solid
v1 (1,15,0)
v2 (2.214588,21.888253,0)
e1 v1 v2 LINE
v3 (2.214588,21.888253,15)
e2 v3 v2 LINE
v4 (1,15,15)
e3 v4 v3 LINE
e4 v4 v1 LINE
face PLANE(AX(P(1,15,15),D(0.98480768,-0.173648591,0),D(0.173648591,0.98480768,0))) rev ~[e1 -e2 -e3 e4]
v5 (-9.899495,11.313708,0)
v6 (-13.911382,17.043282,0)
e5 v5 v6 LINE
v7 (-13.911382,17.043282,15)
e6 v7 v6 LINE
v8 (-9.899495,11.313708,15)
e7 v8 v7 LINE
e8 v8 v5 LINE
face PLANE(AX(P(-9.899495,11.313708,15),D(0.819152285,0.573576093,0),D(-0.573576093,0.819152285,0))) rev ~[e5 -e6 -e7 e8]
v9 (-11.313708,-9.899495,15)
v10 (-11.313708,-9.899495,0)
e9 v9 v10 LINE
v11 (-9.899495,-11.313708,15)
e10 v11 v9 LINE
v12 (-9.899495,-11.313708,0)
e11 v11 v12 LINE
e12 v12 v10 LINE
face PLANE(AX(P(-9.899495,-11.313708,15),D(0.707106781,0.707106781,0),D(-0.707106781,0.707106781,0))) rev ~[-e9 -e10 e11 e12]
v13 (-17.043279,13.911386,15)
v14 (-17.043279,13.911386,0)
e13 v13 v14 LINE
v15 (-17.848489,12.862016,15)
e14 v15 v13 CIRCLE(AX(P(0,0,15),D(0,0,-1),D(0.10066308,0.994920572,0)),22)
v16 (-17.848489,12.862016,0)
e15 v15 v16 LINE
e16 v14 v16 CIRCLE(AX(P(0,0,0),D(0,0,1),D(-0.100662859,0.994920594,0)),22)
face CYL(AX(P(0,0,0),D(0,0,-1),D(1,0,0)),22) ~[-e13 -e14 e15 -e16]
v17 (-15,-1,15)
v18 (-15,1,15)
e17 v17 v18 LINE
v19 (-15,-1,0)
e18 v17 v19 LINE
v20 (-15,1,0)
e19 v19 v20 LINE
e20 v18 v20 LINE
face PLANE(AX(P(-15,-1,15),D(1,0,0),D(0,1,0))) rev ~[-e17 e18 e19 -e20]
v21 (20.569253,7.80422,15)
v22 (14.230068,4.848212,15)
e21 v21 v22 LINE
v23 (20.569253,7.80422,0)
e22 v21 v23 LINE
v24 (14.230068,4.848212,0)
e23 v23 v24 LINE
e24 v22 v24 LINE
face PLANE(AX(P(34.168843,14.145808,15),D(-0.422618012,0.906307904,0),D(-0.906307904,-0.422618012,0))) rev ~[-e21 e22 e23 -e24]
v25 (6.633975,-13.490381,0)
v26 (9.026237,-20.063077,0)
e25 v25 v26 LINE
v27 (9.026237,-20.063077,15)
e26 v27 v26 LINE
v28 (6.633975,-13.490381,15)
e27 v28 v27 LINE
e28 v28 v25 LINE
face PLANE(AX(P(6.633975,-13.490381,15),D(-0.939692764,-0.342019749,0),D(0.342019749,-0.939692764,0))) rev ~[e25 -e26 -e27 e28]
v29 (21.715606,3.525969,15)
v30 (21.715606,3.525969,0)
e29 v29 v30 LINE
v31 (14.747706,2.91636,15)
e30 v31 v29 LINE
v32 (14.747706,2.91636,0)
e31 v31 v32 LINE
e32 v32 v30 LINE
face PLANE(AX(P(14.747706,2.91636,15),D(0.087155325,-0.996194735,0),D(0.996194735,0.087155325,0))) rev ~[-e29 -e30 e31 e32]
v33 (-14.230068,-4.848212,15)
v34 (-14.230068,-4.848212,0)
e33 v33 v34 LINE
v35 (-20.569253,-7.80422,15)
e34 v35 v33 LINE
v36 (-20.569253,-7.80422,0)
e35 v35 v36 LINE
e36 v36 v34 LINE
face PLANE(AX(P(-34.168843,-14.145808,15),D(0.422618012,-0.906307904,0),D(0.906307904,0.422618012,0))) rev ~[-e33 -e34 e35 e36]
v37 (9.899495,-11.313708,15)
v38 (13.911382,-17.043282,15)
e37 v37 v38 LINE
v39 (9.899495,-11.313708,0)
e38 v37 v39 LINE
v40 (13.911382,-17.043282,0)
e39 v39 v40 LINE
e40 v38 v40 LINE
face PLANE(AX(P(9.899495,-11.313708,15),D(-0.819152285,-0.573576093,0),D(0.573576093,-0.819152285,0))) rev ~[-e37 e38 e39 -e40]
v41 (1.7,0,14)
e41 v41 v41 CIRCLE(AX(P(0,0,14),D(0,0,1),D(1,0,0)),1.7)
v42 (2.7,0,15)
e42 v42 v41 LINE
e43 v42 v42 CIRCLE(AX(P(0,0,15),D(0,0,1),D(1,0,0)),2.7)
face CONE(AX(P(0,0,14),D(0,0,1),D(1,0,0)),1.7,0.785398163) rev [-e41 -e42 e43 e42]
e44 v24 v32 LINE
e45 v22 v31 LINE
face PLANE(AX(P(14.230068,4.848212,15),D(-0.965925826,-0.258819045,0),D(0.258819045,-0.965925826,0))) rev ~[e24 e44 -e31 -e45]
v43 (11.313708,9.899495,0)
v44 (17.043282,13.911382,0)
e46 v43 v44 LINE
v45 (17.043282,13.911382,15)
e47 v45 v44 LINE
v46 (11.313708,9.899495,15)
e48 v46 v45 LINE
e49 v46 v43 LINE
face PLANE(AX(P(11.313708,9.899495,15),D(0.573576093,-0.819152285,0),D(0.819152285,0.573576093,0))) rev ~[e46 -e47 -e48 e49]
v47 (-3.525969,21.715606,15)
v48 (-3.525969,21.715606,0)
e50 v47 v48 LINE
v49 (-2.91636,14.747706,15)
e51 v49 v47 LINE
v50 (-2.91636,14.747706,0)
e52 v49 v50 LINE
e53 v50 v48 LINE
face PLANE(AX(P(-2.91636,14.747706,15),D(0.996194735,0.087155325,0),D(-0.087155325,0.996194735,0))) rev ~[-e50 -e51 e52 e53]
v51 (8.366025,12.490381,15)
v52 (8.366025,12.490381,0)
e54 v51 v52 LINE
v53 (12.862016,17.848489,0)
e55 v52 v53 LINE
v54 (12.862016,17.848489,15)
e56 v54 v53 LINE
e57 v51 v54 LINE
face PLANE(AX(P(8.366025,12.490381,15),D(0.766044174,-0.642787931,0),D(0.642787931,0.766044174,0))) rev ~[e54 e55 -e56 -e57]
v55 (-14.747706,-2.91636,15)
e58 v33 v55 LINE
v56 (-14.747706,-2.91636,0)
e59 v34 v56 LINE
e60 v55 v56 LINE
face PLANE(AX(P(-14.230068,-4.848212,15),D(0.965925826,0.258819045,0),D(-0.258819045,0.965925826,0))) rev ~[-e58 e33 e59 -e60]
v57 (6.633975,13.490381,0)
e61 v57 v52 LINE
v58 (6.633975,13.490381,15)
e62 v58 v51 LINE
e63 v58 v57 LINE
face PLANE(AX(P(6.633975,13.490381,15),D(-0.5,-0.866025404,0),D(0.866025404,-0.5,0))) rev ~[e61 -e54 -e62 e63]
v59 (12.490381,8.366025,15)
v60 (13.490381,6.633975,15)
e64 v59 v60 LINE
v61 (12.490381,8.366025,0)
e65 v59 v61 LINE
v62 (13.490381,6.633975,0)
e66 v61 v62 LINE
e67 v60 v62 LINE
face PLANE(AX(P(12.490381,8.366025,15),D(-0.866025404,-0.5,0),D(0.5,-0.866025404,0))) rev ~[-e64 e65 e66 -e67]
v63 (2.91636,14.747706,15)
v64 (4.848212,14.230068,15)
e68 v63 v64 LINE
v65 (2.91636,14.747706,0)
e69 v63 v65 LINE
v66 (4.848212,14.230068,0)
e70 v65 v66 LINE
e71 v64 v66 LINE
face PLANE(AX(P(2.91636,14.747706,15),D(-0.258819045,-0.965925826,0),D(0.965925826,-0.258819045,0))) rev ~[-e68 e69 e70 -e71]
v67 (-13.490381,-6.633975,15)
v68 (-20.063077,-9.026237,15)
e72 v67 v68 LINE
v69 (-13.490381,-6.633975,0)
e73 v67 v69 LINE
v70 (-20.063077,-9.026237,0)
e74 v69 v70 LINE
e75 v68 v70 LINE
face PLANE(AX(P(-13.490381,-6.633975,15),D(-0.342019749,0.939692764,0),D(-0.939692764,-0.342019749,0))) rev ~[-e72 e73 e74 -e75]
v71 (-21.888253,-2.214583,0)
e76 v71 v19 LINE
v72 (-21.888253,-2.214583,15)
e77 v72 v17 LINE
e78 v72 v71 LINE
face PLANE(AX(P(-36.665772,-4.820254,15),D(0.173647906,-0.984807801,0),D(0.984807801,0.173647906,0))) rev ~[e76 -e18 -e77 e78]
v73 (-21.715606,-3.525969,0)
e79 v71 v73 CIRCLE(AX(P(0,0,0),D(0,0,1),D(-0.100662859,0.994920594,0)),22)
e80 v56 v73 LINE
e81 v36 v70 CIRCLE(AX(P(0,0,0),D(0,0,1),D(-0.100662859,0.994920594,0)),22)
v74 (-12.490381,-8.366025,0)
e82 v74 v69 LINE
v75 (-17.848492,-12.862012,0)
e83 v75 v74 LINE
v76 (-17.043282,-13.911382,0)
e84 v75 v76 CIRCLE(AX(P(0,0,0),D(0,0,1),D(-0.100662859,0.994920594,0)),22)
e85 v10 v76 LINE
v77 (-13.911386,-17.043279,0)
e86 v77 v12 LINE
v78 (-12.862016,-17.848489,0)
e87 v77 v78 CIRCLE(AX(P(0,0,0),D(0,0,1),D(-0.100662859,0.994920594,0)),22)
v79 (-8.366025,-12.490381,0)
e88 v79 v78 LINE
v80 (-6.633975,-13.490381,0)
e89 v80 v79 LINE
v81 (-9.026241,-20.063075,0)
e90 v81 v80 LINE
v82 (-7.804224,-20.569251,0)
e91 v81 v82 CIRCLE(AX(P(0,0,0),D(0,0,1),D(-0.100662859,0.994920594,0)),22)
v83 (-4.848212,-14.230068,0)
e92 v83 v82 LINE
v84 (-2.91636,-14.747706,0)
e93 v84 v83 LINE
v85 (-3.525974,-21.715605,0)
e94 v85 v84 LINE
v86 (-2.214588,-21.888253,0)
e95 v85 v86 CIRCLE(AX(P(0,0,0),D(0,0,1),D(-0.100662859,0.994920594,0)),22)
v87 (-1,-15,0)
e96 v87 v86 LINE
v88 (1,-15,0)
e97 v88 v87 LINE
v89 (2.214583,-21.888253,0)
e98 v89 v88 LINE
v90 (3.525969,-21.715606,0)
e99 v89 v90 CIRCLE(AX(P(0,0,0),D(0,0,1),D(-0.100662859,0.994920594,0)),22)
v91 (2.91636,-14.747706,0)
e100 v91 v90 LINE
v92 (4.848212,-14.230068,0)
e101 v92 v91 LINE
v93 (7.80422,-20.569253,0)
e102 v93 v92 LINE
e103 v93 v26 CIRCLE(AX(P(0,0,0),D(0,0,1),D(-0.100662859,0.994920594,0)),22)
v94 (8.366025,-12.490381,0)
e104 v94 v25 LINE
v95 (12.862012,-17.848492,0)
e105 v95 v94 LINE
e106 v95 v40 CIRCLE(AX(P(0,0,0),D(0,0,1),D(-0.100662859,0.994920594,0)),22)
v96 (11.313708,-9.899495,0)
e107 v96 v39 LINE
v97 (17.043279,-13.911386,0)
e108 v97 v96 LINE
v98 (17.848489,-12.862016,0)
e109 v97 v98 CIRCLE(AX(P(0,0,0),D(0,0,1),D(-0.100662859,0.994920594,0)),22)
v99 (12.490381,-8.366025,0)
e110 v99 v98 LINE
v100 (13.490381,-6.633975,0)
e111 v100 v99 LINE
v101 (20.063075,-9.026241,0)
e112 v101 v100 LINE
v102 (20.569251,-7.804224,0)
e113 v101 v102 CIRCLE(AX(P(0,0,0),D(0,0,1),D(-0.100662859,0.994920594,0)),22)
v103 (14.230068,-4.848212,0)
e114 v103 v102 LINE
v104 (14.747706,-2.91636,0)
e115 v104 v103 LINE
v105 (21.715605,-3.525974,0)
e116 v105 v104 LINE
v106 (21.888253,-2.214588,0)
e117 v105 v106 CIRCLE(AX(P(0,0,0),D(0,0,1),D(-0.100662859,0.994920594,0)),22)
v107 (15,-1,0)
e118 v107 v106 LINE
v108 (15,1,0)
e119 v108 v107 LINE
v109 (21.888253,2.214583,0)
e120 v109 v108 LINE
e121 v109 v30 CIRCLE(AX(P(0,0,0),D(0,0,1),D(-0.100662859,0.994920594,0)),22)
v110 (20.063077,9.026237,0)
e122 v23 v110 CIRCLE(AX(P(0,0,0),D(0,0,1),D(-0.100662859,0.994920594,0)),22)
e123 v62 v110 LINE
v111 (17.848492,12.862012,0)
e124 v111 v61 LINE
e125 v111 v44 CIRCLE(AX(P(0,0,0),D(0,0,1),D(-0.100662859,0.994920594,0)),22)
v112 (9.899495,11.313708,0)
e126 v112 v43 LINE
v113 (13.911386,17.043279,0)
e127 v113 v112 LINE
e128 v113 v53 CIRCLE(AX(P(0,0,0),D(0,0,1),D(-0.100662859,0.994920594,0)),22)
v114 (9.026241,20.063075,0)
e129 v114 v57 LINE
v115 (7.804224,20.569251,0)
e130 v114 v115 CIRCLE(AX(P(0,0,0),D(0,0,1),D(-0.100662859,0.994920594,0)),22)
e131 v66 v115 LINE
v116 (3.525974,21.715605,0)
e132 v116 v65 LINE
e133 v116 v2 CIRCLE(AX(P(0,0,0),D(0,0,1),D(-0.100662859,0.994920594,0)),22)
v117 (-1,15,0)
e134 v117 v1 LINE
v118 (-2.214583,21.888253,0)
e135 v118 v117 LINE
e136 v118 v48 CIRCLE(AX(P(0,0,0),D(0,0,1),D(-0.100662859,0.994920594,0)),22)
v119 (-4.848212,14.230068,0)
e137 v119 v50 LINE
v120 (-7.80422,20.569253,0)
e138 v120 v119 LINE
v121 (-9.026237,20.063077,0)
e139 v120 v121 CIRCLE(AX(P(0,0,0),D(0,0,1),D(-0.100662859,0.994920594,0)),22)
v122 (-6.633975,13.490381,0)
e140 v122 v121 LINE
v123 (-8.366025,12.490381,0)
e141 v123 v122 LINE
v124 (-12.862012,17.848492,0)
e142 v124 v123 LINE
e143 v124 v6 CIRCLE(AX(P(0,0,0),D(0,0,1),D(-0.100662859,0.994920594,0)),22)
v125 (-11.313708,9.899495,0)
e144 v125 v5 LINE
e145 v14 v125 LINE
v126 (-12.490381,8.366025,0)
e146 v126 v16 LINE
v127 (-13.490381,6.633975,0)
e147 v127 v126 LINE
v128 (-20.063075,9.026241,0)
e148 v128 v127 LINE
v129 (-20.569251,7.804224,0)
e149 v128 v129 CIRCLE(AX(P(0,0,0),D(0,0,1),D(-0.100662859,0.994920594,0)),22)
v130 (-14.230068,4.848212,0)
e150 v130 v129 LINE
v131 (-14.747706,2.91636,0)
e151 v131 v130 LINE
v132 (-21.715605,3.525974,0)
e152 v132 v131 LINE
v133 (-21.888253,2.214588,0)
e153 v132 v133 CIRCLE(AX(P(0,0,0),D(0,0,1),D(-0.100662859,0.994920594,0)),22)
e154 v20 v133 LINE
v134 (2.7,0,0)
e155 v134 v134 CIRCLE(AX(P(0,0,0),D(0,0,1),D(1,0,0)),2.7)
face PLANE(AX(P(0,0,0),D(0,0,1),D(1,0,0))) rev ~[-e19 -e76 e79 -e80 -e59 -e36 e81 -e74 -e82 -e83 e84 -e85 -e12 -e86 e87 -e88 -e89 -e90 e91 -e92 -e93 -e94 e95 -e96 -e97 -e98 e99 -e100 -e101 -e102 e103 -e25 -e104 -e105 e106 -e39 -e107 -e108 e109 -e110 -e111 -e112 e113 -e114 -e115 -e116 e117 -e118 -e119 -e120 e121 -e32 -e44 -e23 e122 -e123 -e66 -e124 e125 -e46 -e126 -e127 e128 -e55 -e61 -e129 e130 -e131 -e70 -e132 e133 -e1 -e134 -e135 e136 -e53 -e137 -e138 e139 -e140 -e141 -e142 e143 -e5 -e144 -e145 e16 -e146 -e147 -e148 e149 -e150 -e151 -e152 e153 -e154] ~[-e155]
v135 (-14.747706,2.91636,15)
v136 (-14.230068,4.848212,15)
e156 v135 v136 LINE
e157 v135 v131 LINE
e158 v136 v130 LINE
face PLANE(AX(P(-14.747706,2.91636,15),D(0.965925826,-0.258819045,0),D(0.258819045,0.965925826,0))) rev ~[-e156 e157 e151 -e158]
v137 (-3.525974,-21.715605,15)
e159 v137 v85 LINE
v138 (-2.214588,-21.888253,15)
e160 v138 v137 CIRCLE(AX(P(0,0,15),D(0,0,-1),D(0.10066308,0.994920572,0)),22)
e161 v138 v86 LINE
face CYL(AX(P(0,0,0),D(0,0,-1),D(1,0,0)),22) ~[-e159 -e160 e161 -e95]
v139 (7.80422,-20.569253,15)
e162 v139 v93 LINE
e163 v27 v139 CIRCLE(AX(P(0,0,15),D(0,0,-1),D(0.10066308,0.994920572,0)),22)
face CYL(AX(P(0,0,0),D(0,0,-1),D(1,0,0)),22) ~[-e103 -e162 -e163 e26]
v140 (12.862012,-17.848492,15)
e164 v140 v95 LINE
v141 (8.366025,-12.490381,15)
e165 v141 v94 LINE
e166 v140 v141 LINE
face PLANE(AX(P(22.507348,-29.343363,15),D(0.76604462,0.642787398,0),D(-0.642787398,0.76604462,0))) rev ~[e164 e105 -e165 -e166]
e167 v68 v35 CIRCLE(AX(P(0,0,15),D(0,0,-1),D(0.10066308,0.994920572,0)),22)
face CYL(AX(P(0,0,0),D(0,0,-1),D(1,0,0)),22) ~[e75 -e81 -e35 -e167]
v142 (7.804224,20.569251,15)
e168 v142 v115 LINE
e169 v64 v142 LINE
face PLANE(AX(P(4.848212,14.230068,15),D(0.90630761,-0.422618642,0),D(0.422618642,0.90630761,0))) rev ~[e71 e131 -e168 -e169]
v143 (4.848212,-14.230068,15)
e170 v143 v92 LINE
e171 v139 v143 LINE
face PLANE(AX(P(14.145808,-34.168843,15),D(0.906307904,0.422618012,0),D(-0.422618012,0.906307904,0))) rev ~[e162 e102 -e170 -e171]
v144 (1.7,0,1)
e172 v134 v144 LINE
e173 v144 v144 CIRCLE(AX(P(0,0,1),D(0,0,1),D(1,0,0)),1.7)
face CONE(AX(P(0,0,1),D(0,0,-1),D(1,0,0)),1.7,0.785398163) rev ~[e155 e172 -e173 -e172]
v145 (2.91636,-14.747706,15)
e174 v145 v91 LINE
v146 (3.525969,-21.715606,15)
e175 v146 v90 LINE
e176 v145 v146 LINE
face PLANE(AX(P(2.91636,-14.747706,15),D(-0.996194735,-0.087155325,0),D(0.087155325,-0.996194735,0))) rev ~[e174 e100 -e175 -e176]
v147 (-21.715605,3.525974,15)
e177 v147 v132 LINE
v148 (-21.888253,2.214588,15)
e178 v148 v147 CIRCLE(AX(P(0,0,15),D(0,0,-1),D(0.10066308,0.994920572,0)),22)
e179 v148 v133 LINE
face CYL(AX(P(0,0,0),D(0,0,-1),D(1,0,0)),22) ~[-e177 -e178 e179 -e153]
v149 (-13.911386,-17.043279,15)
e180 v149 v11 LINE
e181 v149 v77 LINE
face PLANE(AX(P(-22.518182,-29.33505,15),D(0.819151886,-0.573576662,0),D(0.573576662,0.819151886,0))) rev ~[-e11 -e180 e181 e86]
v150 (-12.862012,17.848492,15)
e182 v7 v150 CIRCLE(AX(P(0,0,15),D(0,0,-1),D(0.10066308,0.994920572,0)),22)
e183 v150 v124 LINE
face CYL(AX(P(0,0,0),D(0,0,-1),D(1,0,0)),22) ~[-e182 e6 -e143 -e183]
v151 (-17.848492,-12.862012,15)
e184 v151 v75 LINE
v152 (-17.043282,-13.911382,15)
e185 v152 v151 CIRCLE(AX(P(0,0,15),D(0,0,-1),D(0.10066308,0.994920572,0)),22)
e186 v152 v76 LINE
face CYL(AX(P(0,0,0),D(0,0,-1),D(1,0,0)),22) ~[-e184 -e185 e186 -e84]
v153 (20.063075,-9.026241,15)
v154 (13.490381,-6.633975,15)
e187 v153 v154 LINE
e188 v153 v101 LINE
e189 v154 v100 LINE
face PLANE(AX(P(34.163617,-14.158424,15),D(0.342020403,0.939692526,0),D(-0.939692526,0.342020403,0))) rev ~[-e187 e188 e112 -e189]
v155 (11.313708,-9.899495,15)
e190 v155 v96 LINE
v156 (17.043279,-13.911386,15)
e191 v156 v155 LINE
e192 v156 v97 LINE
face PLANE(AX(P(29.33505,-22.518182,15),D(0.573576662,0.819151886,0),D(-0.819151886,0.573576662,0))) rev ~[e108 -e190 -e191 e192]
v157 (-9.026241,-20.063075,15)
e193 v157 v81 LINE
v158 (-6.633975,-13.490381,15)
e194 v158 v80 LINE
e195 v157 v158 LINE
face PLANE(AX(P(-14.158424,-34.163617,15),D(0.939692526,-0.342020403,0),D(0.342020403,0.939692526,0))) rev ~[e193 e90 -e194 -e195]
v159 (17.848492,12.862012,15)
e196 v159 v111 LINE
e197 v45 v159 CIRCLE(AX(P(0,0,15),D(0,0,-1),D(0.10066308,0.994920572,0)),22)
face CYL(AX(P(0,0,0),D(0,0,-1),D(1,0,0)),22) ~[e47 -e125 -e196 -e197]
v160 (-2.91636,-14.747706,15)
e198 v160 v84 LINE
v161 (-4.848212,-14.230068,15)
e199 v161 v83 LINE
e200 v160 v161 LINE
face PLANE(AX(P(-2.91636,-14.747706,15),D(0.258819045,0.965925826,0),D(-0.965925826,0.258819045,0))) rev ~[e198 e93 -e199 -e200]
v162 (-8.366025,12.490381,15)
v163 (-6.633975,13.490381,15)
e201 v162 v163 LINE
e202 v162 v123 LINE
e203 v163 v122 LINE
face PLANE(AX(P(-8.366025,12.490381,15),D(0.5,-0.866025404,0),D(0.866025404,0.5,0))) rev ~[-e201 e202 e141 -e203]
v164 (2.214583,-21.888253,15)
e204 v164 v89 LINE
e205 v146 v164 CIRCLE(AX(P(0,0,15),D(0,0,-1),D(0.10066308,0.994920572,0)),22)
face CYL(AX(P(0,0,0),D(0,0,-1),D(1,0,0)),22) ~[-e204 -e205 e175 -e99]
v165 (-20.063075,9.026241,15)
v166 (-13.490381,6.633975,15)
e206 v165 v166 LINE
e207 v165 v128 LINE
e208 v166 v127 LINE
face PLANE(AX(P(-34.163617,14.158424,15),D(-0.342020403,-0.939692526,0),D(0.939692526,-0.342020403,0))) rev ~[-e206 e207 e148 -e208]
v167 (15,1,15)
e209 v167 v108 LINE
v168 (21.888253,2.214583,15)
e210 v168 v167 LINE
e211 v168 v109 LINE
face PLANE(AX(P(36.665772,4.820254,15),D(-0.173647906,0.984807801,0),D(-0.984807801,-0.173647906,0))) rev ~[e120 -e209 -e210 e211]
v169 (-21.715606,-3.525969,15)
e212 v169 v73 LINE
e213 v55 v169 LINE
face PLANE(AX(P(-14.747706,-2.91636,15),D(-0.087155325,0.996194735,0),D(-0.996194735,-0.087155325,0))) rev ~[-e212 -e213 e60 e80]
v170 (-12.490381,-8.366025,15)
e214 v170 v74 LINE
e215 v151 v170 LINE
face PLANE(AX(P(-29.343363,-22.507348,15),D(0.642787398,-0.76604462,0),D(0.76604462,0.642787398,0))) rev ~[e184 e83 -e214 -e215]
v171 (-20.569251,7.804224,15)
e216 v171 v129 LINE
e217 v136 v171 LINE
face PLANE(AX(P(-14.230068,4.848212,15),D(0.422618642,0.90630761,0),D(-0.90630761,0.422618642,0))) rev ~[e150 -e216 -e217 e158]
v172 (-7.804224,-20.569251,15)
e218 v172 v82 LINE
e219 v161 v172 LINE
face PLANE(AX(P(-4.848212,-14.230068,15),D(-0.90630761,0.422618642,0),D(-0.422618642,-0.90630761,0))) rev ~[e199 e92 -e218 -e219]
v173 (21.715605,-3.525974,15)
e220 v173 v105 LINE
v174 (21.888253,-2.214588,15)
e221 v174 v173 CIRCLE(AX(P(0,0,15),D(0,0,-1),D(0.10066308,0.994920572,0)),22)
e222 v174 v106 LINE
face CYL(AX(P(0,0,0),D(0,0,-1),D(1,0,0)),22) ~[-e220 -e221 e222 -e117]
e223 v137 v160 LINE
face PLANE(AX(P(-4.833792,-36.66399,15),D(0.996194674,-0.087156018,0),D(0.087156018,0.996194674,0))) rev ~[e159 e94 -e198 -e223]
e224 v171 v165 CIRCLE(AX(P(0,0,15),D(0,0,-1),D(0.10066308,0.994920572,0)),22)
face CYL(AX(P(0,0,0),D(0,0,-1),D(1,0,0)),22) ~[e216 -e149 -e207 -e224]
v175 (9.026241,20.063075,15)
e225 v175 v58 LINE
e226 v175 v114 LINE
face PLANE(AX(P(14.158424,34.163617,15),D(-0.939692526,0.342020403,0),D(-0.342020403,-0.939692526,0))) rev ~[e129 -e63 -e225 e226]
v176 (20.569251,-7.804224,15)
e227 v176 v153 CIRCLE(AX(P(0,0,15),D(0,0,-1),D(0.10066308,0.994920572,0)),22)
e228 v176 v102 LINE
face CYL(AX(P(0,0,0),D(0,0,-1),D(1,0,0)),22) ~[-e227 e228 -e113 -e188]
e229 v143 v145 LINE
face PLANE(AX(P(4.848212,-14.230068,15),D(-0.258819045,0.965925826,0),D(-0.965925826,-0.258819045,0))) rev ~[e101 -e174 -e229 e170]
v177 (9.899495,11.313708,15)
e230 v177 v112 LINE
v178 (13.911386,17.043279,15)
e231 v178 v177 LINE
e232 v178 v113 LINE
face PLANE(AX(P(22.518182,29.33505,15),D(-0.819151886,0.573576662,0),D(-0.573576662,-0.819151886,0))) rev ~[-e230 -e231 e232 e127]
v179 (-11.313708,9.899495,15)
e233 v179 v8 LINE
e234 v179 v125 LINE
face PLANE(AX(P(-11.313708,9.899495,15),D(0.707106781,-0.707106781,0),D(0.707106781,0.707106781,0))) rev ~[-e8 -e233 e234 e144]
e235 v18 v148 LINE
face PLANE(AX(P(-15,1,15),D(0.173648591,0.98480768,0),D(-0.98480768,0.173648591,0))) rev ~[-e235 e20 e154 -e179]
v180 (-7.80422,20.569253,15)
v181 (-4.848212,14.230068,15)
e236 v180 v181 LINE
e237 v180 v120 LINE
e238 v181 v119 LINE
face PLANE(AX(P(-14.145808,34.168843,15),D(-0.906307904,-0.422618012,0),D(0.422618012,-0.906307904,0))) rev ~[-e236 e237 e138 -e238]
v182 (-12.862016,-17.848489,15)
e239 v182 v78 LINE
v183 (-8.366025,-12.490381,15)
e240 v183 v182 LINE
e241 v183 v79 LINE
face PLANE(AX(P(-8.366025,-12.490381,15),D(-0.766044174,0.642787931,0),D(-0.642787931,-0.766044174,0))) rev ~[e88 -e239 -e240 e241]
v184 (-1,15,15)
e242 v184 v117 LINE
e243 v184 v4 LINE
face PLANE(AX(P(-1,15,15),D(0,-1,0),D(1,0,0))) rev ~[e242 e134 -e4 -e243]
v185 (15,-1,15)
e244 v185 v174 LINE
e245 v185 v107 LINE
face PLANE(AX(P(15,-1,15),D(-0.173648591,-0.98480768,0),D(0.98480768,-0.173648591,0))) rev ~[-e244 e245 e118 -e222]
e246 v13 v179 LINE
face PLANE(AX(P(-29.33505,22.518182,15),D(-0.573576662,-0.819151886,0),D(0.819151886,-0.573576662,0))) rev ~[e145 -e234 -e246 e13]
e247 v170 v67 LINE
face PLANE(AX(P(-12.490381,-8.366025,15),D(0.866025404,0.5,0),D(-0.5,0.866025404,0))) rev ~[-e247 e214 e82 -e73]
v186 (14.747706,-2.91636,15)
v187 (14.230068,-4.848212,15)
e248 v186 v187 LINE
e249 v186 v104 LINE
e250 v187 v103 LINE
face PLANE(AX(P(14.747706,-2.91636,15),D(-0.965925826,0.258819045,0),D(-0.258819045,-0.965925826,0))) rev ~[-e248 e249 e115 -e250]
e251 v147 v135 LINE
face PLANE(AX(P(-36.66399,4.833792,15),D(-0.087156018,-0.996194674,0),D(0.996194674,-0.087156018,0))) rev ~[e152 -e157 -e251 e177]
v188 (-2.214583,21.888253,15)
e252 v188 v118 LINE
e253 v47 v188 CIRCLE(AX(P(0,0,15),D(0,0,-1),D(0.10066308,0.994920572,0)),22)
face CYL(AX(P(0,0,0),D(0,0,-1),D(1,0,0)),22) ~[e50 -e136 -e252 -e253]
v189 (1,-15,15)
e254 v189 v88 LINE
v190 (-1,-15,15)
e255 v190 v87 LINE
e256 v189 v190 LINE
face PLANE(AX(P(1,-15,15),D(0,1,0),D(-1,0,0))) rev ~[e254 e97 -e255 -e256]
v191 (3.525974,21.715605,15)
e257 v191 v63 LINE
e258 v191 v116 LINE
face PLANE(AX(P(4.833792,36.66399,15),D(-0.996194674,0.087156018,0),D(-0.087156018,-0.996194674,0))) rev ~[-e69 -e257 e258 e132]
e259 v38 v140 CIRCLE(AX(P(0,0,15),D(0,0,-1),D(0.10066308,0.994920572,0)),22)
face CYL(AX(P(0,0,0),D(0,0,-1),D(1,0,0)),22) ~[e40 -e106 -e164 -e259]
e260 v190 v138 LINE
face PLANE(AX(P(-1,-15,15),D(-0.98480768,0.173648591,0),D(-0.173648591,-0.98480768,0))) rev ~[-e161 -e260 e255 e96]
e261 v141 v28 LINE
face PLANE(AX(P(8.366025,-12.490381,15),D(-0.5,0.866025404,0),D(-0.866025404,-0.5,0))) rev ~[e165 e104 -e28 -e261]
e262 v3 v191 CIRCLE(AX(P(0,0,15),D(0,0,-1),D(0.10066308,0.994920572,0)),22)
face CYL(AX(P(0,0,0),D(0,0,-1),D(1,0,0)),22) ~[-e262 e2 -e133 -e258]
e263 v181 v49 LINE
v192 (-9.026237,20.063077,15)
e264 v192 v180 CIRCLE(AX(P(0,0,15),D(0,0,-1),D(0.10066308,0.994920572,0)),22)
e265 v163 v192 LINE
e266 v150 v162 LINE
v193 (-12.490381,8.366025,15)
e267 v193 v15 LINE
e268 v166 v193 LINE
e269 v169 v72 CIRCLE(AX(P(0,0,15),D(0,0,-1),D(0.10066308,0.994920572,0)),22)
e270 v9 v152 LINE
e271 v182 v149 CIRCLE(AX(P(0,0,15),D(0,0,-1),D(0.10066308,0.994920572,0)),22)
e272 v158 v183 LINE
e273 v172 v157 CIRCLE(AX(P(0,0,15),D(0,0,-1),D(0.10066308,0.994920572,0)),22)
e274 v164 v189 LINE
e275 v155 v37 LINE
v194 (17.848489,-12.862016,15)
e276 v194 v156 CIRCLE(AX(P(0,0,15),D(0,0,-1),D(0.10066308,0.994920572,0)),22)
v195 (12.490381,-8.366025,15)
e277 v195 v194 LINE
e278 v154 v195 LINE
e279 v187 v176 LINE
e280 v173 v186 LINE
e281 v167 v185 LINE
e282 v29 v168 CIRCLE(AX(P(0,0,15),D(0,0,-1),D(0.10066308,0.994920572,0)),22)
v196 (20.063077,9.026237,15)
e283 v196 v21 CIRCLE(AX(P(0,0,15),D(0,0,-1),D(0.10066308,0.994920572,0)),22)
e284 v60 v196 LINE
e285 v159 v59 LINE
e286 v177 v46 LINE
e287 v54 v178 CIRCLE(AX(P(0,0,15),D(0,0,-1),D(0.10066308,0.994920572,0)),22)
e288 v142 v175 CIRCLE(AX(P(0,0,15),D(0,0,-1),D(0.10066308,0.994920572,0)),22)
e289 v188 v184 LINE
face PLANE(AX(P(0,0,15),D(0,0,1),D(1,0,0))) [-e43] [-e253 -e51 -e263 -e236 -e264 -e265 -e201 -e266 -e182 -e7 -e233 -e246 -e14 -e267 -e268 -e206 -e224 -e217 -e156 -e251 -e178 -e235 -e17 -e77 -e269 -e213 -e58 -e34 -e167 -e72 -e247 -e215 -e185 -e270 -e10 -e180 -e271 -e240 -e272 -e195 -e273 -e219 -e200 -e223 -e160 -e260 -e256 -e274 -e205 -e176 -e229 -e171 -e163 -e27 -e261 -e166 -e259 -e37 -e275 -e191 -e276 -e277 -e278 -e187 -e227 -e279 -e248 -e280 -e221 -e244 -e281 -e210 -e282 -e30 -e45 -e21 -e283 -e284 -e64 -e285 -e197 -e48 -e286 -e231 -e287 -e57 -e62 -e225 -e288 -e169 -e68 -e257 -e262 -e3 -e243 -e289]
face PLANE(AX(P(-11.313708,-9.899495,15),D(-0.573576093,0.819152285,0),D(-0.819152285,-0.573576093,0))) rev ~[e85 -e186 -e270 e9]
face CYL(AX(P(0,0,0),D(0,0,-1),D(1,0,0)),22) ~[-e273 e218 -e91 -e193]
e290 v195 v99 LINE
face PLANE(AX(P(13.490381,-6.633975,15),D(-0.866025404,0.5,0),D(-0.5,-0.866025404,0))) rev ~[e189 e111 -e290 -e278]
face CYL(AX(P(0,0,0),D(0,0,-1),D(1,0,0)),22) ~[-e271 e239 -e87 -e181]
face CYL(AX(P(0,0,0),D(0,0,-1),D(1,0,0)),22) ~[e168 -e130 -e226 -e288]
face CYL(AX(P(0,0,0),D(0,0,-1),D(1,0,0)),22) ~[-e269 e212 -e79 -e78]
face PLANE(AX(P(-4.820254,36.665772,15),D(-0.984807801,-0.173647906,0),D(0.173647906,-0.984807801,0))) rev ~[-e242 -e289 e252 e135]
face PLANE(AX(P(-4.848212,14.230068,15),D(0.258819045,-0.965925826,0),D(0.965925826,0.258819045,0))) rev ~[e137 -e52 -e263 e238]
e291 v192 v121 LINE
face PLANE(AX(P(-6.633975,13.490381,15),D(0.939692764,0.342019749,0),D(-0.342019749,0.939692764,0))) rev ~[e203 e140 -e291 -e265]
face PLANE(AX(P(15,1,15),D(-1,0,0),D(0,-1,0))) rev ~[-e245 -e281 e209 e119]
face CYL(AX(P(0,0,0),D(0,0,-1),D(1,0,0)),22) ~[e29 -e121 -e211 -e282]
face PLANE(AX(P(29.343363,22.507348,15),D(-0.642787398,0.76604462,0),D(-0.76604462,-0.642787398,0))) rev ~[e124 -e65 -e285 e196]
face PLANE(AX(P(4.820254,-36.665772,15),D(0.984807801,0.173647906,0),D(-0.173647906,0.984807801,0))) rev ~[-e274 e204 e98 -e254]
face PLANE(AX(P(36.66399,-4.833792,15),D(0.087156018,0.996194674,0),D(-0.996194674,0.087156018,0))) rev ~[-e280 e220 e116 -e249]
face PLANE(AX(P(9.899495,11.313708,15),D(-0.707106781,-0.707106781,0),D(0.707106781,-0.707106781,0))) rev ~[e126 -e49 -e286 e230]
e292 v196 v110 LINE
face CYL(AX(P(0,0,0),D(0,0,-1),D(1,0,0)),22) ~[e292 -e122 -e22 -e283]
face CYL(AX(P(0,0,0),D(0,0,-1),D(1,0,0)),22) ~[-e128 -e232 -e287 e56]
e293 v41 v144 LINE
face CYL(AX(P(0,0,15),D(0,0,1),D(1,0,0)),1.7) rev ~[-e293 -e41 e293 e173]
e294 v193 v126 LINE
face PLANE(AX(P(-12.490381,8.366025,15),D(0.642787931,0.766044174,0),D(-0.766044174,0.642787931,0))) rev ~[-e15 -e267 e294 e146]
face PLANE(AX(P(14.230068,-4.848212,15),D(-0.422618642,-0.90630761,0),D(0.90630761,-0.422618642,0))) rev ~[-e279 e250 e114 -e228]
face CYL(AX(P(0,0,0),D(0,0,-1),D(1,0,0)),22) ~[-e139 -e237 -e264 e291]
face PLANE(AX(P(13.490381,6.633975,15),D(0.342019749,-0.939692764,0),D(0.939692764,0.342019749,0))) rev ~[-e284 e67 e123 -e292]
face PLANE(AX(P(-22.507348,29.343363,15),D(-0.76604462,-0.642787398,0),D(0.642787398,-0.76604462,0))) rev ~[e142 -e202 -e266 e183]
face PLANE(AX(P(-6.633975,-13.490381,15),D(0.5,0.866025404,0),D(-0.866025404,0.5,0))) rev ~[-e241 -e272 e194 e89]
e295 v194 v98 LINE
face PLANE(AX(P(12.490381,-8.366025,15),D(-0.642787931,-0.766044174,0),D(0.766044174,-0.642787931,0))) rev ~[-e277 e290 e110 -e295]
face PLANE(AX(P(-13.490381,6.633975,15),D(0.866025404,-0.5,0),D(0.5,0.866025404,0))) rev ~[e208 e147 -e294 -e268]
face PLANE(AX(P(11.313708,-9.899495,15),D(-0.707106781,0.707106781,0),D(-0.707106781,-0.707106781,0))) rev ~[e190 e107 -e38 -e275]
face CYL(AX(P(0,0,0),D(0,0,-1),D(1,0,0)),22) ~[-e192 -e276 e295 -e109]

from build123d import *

# Parameters (mm, degrees)
SKETCH_R           = 22
PAD_DEPTH          = 15
SKETCH001_R        = 1.7
POCKET_DEPTH       = 15.001
POCKET001_DEPTH    = 143.016624
POLARPATTERN_COUNT = 24
CHAMFER_SIZE       = 1


with BuildPart() as part:
    # Sketch → Pad (new body)
    with BuildSketch(Plane.XY):
        Circle(SKETCH_R)
    extrude(amount=PAD_DEPTH)

    # Sketch001 (on Face3 of Pad) → Pocket (cut, through all)
    with BuildSketch(Plane.XY.offset(15)):
        Circle(SKETCH001_R)
    extrude(amount=-POCKET_DEPTH, mode=Mode.SUBTRACT)

    # Sketch002 (on Face3 of Pocket) → Pocket001 (cut, through all)
    with BuildSketch(Plane.XY.offset(15)):
        Polygon((-1, 15), (1, 15), (4.820269, 36.665769), (-4.820254, 36.665772), align=None)
    pocket001 = extrude(amount=-POCKET001_DEPTH, mode=Mode.SUBTRACT)

    # PolarPattern: Pocket001 ×24 about axis
    polarpattern_axis = Axis((0, 0, 0), (0, 0, 1))
    for i in range(1, POLARPATTERN_COUNT):
        add(pocket001.rotate(polarpattern_axis, i * 360 / POLARPATTERN_COUNT), mode=Mode.SUBTRACT)

    # Chamfer
    chamfer_edges = [part.edges().sort_by_distance(p)[0] for p in [
        (-1.7, 0, 15),
        (-1.7, 0, 0),
    ]]
    chamfer(chamfer_edges, length=CHAMFER_SIZE)


solid = part.part
